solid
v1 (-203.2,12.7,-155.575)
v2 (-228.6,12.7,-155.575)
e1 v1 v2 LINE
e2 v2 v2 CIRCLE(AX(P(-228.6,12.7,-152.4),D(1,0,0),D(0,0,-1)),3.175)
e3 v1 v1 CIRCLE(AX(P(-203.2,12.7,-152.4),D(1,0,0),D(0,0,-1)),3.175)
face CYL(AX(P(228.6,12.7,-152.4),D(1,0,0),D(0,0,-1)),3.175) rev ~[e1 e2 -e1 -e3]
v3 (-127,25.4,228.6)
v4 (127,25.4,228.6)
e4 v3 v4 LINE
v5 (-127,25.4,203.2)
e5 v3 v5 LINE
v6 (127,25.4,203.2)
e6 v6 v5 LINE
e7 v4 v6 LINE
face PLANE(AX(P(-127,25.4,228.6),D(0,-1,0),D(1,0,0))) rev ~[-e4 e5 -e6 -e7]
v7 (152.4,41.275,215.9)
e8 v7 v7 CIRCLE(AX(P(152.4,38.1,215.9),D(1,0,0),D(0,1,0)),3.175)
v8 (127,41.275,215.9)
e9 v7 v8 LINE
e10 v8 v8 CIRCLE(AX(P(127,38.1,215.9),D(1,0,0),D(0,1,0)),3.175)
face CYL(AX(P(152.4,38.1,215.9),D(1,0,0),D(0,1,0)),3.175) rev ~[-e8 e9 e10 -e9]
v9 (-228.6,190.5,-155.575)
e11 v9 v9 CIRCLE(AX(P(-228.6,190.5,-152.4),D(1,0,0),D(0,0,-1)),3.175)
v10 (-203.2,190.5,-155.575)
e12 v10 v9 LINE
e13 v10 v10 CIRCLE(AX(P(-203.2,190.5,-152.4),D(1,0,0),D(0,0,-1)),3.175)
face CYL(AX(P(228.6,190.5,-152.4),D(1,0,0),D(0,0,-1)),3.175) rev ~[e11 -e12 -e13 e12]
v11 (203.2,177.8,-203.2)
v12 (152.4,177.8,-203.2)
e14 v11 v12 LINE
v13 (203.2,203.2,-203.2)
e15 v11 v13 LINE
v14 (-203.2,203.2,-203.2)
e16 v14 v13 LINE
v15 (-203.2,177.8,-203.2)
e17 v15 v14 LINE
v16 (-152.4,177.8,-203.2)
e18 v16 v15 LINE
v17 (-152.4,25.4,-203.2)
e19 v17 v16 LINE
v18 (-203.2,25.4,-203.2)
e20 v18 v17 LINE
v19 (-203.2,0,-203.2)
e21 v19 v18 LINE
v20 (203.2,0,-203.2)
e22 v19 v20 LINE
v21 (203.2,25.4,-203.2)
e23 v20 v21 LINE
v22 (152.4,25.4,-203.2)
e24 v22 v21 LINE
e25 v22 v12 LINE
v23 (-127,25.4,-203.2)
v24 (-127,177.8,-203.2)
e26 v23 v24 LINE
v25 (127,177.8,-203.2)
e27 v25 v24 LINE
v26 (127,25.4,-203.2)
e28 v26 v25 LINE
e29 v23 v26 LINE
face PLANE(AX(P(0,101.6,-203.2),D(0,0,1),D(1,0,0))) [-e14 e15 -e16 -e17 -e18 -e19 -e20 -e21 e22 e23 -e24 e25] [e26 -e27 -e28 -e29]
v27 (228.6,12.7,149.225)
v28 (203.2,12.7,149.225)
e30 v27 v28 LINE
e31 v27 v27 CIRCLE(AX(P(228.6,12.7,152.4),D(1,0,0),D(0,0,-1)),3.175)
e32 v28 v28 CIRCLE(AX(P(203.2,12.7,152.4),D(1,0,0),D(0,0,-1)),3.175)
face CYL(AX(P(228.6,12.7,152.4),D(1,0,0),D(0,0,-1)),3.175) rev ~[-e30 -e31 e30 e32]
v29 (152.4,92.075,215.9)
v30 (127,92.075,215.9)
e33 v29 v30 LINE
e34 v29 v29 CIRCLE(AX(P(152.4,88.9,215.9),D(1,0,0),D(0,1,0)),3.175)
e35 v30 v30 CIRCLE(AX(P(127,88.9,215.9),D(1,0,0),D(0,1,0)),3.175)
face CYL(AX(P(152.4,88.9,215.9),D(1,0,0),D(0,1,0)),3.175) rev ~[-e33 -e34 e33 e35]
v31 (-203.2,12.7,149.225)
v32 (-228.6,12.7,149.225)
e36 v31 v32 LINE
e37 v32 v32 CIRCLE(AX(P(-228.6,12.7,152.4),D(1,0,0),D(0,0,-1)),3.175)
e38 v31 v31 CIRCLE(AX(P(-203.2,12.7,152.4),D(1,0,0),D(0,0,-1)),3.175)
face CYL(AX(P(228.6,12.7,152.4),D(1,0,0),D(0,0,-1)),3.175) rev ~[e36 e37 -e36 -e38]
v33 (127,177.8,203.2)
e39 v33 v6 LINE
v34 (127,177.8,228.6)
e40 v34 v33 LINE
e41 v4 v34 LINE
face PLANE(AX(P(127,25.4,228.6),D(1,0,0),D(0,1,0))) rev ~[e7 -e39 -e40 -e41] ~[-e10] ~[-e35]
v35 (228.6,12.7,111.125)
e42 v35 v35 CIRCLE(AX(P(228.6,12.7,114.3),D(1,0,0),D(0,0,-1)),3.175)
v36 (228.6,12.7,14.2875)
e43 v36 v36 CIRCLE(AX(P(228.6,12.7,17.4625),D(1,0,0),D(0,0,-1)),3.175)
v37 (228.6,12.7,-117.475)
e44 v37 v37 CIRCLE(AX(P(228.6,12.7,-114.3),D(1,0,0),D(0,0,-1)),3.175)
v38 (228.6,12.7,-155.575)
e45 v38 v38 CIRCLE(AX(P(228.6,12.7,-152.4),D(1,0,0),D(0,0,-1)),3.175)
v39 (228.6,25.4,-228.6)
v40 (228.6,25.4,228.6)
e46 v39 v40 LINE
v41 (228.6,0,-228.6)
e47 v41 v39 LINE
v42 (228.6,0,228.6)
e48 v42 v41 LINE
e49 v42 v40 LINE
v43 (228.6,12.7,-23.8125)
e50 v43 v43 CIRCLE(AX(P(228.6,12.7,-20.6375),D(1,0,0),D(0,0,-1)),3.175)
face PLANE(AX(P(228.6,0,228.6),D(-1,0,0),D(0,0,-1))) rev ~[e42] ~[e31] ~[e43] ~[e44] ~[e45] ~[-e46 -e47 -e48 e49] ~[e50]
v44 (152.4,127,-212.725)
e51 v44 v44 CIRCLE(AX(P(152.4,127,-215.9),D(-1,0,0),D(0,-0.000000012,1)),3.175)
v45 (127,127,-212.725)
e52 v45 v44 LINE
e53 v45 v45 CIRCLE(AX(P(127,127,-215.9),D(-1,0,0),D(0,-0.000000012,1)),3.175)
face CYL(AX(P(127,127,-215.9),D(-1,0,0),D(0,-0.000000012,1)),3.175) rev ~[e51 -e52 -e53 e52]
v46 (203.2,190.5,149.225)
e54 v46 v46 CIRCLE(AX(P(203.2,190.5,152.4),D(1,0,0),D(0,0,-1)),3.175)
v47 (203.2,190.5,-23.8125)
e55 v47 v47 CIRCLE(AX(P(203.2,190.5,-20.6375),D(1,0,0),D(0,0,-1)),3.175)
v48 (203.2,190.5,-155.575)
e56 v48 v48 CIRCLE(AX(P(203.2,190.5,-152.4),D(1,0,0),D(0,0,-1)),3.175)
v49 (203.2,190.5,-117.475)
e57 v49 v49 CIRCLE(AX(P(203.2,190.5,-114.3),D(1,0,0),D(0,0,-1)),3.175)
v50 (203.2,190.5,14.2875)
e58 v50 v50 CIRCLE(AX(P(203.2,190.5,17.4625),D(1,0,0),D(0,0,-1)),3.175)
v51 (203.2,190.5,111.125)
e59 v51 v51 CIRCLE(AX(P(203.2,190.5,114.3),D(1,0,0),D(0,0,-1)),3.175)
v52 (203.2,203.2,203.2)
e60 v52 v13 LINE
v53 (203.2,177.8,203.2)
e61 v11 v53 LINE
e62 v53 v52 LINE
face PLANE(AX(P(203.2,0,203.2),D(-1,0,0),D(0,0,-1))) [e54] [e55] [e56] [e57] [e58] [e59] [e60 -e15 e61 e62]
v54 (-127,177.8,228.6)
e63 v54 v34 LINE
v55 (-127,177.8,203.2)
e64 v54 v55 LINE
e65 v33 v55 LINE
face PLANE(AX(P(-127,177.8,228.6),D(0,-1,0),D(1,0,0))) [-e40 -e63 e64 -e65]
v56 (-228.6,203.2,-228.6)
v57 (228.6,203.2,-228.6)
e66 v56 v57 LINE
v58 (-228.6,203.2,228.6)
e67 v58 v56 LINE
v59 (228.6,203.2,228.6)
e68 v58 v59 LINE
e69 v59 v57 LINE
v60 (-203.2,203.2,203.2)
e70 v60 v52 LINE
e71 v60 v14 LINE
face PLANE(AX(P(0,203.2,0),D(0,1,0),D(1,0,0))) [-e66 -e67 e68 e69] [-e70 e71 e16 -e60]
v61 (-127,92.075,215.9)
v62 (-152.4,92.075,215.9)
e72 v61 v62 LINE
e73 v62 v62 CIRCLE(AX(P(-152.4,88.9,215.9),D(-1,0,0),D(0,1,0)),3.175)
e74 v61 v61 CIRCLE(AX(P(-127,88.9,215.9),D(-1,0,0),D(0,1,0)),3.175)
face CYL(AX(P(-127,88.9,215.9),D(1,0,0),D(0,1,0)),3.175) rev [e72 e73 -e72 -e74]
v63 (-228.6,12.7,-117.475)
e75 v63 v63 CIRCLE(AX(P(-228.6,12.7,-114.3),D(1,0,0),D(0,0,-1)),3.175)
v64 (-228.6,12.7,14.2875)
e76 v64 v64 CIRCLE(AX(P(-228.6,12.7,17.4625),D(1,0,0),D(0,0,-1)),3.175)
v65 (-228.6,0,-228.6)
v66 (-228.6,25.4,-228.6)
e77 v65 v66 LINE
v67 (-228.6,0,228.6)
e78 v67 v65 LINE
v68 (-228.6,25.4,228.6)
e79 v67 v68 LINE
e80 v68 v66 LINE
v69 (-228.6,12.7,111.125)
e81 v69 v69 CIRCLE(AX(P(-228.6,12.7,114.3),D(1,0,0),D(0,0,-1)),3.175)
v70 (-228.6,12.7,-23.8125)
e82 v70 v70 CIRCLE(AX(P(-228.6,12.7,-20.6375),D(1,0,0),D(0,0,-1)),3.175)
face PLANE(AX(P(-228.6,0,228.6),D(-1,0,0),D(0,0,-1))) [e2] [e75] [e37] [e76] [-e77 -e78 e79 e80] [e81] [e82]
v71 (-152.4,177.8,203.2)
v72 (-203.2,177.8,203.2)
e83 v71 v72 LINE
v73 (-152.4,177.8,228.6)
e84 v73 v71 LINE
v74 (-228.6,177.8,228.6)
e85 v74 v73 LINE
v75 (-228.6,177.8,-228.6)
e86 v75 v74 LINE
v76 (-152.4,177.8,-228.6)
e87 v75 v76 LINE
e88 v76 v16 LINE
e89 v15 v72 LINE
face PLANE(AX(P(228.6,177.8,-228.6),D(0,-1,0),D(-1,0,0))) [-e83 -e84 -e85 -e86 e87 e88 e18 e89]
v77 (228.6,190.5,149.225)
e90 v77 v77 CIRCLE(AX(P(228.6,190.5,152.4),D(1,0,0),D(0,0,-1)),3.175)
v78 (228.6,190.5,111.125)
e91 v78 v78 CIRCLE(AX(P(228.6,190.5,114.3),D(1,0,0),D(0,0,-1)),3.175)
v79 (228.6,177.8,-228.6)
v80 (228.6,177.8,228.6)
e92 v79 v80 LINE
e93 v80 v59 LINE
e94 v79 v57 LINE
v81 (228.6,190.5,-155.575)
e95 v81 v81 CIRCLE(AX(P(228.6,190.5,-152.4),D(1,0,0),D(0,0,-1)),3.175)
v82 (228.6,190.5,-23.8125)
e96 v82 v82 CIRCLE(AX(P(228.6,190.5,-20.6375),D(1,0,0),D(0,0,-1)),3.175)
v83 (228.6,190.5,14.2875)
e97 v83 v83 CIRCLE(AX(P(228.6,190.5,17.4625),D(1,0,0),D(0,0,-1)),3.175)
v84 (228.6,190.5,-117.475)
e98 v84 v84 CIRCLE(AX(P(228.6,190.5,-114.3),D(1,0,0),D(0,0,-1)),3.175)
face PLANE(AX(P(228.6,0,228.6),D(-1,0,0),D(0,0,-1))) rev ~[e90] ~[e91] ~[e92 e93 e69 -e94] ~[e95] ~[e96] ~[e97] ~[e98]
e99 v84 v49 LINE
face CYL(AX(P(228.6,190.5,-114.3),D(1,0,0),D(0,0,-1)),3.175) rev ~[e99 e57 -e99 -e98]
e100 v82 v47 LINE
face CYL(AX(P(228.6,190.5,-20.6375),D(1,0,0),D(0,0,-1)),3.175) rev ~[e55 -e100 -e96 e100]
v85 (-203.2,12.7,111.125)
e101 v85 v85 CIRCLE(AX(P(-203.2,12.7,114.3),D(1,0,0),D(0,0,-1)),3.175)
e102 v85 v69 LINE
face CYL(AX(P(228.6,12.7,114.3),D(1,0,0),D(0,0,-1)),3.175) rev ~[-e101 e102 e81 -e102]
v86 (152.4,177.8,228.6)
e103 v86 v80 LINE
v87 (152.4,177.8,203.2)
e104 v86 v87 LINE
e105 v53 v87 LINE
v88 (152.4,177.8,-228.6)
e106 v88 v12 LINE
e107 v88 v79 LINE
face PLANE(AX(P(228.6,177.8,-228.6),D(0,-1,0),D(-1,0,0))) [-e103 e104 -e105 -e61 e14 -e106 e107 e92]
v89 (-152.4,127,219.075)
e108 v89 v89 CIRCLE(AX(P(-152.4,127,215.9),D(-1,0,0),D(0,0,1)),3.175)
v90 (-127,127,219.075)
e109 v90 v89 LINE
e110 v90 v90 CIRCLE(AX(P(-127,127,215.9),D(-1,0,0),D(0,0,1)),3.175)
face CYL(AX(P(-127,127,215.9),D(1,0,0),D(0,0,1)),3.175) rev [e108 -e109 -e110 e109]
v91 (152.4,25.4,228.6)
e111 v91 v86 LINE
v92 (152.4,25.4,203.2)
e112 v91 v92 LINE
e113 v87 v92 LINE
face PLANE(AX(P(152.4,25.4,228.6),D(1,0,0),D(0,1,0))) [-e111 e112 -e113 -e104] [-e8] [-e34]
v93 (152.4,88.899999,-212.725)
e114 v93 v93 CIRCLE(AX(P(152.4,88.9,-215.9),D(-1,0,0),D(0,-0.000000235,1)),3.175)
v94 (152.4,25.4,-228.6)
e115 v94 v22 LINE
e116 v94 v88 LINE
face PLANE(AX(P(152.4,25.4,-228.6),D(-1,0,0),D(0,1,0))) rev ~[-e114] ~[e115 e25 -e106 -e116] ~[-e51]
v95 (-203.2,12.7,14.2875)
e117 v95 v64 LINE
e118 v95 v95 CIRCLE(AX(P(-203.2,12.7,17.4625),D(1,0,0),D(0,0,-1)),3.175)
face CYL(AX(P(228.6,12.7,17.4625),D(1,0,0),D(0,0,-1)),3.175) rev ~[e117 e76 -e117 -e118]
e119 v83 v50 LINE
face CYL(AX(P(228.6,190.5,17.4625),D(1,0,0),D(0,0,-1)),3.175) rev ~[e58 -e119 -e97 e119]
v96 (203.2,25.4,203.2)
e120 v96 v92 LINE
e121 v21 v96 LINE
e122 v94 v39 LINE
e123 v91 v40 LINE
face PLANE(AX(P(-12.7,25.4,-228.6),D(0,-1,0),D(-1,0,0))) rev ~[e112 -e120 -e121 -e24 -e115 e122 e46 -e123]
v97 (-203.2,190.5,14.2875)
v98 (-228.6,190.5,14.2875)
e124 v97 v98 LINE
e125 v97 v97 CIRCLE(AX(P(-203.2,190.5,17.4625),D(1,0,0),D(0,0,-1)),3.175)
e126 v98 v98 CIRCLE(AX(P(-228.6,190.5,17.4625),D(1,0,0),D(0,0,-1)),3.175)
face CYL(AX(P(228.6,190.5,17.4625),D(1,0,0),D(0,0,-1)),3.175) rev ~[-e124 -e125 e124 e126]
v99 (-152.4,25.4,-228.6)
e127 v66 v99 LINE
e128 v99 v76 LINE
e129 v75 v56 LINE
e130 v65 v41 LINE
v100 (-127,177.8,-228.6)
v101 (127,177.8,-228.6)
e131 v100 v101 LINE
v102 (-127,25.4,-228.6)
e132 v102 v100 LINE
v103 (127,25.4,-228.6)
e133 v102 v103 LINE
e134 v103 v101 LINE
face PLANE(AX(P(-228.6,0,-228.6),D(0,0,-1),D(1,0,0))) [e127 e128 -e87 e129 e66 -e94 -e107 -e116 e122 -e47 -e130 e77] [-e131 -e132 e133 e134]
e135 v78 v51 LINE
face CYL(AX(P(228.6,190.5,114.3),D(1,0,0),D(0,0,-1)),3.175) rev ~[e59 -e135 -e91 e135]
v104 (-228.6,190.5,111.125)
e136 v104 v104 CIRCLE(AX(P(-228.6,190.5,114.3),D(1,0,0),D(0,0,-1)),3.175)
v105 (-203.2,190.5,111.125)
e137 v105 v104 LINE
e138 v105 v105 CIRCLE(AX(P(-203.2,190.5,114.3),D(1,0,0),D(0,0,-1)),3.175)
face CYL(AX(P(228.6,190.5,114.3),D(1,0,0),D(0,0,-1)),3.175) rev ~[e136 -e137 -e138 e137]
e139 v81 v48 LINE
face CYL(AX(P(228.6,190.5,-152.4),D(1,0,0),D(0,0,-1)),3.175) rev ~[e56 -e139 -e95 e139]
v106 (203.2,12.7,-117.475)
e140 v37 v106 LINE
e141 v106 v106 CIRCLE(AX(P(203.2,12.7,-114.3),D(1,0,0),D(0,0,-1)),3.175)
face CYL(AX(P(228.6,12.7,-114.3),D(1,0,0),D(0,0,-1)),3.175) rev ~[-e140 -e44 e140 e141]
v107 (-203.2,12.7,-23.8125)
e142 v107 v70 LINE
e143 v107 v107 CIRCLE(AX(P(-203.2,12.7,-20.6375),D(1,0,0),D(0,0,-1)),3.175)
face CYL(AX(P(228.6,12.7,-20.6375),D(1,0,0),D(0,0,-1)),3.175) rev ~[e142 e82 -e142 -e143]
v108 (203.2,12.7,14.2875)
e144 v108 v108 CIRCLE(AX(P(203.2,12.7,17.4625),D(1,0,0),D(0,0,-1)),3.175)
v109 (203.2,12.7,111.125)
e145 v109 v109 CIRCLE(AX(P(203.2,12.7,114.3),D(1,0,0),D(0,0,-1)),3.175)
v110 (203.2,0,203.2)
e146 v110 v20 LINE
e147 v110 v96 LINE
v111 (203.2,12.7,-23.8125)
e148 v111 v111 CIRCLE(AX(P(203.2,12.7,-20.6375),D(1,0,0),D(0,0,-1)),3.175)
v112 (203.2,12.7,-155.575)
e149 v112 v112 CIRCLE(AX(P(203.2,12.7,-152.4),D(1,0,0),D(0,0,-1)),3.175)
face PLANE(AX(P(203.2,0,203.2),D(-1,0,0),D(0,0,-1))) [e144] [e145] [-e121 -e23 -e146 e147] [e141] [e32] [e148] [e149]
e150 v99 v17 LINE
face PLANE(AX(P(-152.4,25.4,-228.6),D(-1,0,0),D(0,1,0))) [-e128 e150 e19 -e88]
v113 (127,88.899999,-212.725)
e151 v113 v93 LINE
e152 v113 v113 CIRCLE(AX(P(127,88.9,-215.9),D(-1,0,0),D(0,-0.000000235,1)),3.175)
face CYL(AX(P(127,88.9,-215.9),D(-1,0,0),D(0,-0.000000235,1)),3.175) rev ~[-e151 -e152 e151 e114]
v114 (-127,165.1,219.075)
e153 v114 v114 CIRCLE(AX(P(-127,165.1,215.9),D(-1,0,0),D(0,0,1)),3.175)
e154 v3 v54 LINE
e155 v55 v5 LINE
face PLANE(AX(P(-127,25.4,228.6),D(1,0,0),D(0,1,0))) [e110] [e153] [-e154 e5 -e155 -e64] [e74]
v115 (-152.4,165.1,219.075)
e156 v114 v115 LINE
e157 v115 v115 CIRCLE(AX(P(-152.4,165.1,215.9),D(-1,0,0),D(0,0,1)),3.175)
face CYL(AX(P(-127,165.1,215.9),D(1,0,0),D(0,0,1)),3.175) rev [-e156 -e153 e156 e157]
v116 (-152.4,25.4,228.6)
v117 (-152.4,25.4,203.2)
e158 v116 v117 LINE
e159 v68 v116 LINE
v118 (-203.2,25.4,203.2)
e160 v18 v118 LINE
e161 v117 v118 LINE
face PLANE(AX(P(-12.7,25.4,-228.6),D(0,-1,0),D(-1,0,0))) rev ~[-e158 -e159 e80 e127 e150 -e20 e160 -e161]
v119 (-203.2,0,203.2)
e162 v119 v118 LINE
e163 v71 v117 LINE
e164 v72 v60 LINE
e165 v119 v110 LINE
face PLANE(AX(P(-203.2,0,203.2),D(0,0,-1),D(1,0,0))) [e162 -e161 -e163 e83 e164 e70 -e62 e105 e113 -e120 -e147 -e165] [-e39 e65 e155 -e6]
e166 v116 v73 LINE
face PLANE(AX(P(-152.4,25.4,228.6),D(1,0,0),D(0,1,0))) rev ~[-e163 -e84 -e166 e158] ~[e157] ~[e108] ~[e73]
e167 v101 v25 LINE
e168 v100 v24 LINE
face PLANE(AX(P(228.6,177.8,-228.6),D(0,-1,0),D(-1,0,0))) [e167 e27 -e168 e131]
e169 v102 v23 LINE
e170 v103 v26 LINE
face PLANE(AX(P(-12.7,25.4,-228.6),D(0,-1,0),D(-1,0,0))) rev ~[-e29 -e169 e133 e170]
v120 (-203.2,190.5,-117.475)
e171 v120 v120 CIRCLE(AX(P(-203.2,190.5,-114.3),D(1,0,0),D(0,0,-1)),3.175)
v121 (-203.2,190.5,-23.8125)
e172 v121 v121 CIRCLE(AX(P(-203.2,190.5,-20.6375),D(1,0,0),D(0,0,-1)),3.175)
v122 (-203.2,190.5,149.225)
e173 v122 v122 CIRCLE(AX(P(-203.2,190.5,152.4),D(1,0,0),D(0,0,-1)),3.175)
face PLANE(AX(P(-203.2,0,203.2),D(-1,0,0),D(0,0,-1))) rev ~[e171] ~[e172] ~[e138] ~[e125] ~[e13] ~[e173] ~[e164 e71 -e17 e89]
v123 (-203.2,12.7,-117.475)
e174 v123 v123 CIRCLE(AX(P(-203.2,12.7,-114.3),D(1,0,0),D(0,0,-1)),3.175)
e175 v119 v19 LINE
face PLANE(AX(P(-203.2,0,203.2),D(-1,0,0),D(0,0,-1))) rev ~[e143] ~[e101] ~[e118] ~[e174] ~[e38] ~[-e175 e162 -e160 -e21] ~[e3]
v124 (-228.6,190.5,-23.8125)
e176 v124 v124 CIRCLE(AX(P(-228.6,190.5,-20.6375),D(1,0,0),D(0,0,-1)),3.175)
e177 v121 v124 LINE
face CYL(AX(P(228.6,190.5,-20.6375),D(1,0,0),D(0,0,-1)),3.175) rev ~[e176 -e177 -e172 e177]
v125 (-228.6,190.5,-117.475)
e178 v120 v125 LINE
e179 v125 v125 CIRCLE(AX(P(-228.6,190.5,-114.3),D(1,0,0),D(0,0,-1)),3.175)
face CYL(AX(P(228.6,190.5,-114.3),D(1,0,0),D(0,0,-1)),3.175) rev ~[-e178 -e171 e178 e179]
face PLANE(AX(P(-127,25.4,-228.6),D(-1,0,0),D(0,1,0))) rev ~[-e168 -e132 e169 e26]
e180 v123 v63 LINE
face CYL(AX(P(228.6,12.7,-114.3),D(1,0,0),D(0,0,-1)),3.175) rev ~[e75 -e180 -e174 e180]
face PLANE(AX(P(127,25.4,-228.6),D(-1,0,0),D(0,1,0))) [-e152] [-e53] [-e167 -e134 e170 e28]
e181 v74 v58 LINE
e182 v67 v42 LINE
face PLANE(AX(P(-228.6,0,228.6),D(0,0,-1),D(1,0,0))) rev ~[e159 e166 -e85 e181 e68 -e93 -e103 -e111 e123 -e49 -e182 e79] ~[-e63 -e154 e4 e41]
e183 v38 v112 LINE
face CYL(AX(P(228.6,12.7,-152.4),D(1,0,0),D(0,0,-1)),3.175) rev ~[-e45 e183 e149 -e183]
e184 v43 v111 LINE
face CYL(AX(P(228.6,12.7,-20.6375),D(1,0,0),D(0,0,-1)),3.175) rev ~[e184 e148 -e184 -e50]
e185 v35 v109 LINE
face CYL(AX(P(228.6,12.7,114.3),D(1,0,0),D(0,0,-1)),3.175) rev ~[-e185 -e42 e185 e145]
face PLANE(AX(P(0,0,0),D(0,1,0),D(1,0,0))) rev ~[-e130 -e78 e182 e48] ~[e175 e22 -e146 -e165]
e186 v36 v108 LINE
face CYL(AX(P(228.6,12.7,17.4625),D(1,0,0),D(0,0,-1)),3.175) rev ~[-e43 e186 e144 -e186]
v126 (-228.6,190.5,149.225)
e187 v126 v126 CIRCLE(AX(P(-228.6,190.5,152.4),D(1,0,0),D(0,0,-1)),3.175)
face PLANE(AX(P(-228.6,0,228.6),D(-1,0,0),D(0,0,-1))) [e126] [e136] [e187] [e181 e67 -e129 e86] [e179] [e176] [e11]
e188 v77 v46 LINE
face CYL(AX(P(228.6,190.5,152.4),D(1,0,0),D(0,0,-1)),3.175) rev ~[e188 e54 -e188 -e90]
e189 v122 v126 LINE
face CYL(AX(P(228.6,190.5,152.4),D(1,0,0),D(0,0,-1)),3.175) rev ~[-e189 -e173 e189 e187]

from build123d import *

# Parameters (mm, degrees)
SKETCH1_W            = 457.2
SKETCH1_H            = 457.2
SKETCH1_W_2          = 406.4
SKETCH1_H_2          = 406.4
BOSS_EXTRUDE1_DEPTH  = 203.2
CUT_EXTRUDE3_REACH   = 552.073
SKETCH2_W            = 254
SKETCH2_H            = 152.4
SKETCH2_W_2          = 76.2
SKETCH4_W            = 215.9
SKETCH4_H            = 152.4
CUT_EXTRUDE4_DEPTH   = 25.4
SKETCH6_R            = 3.175
CUT_EXTRUDE5_DEPTH   = 25.4
CUT_EXTRUDE6_START   = -25.4
SKETCH7_R            = 3.175
CUT_EXTRUDE6_DEPTH   = 25.4
CUT_EXTRUDE7_REACH   = 552.073
SKETCH8_R            = 3.175
SKETCH10_R           = 3.175
CUT_EXTRUDE8_DEPTH   = 551.072758824
LPATTERN1_COUNT      = 2
LPATTERN1_PITCH      = 38.1
LPATTERN1_COUNT_DIR2 = 2
LPATTERN1_PITCH_DIR2 = 177.8
SKETCH12_W           = 25.4
SKETCH12_H           = 152.4
CUT_EXTRUDE9_DEPTH   = 25.4
SKETCH13_W           = 25.4
SKETCH13_H           = 152.4
BOSS_EXTRUDE2_DEPTH  = 25.4
SKETCH14_R           = 3.175
CUT_EXTRUDE11_DEPTH  = 25.4


with BuildPart() as part:
    # Sketch1 → Boss-Extrude1 (new body)
    with BuildSketch(Plane(origin=(0, 0, 0), x_dir=(1, 0, 0), z_dir=(0, 1, 0))):
        Rectangle(SKETCH1_W, SKETCH1_H)
        Rectangle(SKETCH1_W_2, SKETCH1_H_2, mode=Mode.SUBTRACT)
    extrude(amount=BOSS_EXTRUDE1_DEPTH)

    # Cut-Extrude3: up to this face of the body (flat: up to its plane)
    cut_extrude3_end = Plane(part.part.faces().sort_by_distance((0, 101.6, -203.2))[0])
    # Sketch2 → Cut-Extrude3 (cut, up to the picked face)
    with BuildSketch(Plane.XY.offset(228.6), mode=Mode.PRIVATE) as cut_extrude3_sk1:
        with Locations((0, 101.6)):
            Rectangle(SKETCH2_W, SKETCH2_H)
    cut_extrude3_tool1 = split(extrude(cut_extrude3_sk1.sketch, amount=-CUT_EXTRUDE3_REACH, mode=Mode.PRIVATE), bisect_by=cut_extrude3_end, keep=Keep.BOTH, mode=Mode.PRIVATE)
    # Sketch2 → Cut-Extrude3 (cut, up to the picked face)
    with BuildSketch(Plane.XY.offset(228.6), mode=Mode.PRIVATE) as cut_extrude3_sk2:
        with Locations((190.5, 101.6)):
            Rectangle(SKETCH2_W_2, SKETCH2_H)
    cut_extrude3_tool2 = split(extrude(cut_extrude3_sk2.sketch, amount=-CUT_EXTRUDE3_REACH, mode=Mode.PRIVATE), bisect_by=cut_extrude3_end, keep=Keep.BOTH, mode=Mode.PRIVATE)
    # Sketch2 → Cut-Extrude3 (cut, up to the picked face)
    with BuildSketch(Plane.XY.offset(228.6), mode=Mode.PRIVATE) as cut_extrude3_sk3:
        with Locations((-190.5, 101.6)):
            Rectangle(SKETCH2_W_2, SKETCH2_H)
    cut_extrude3_tool3 = split(extrude(cut_extrude3_sk3.sketch, amount=-CUT_EXTRUDE3_REACH, mode=Mode.PRIVATE), bisect_by=cut_extrude3_end, keep=Keep.BOTH, mode=Mode.PRIVATE)
    add(cut_extrude3_tool1.solids().sort_by(Axis((0, 101.6, 228.6), (0, 0, -1)))[0], mode=Mode.SUBTRACT)
    add(cut_extrude3_tool2.solids().sort_by(Axis((190.5, 101.6, 228.6), (0, 0, -1)))[0], mode=Mode.SUBTRACT)
    add(cut_extrude3_tool3.solids().sort_by(Axis((-190.5, 101.6, 228.6), (0, 0, -1)))[0], mode=Mode.SUBTRACT)

    # Sketch4 → Cut-Extrude4 (cut)
    with BuildSketch(Plane(origin=(0, 0, -228.6), x_dir=(-1, 0, 0), z_dir=(0, 0, -1))):
        with Locations((120.65, 101.6)):
            Rectangle(SKETCH4_W, SKETCH4_H)
        with Locations((-120.65, 101.6)):
            Rectangle(SKETCH4_W, SKETCH4_H)
    extrude(amount=-CUT_EXTRUDE4_DEPTH, mode=Mode.SUBTRACT)

    # Sketch6 → Cut-Extrude5 (cut)
    with BuildSketch(Plane(origin=(152.4, 0, 0), x_dir=(0, 0, -1), z_dir=(1, 0, 0))):
        with Locations(Location((-215.9, 38.1, 0), (0, 0, 90))):
            Circle(SKETCH6_R)
        with Locations(Location((-215.9, 88.9, 0), (0, 0, 90))):
            Circle(SKETCH6_R)
    extrude(amount=-CUT_EXTRUDE5_DEPTH, mode=Mode.SUBTRACT)

    # Sketch7 → Cut-Extrude6 (cut)
    with BuildSketch(Plane.ZY.offset(152.4).offset(CUT_EXTRUDE6_START)):
        with Locations((215.9, 165.1)):
            Circle(SKETCH7_R)
        with Locations((215.9, 127)):
            Circle(SKETCH7_R)
        with Locations(Location((215.9, 88.9, 0), (0, 0, 90))):
            Circle(SKETCH7_R)
    extrude(amount=CUT_EXTRUDE6_DEPTH, mode=Mode.SUBTRACT)

    # Cut-Extrude7: up to this face of the body (flat: up to its plane)
    cut_extrude7_end = Plane(part.part.faces().sort_by_distance((-228.6, 190.5, 0))[0])
    # Sketch8 → Cut-Extrude7 (cut, up to the picked face)
    with BuildSketch(Plane(origin=(228.6, 0, 0), x_dir=(0, 0, -1), z_dir=(1, 0, 0)), mode=Mode.PRIVATE) as cut_extrude7_sk1:
        with Locations((152.4, 190.5)):
            Circle(SKETCH8_R)
    cut_extrude7_tool1 = split(extrude(cut_extrude7_sk1.sketch, amount=-CUT_EXTRUDE7_REACH, mode=Mode.PRIVATE), bisect_by=cut_extrude7_end, keep=Keep.BOTH, mode=Mode.PRIVATE)
    # Sketch8 → Cut-Extrude7 (cut, up to the picked face)
    with BuildSketch(Plane(origin=(228.6, 0, 0), x_dir=(0, 0, -1), z_dir=(1, 0, 0)), mode=Mode.PRIVATE) as cut_extrude7_sk2:
        with Locations((114.3, 190.5)):
            Circle(SKETCH8_R)
    cut_extrude7_tool2 = split(extrude(cut_extrude7_sk2.sketch, amount=-CUT_EXTRUDE7_REACH, mode=Mode.PRIVATE), bisect_by=cut_extrude7_end, keep=Keep.BOTH, mode=Mode.PRIVATE)
    # Sketch8 → Cut-Extrude7 (cut, up to the picked face)
    with BuildSketch(Plane(origin=(228.6, 0, 0), x_dir=(0, 0, -1), z_dir=(1, 0, 0)), mode=Mode.PRIVATE) as cut_extrude7_sk3:
        with Locations((-152.4, 190.5)):
            Circle(SKETCH8_R)
    cut_extrude7_tool3 = split(extrude(cut_extrude7_sk3.sketch, amount=-CUT_EXTRUDE7_REACH, mode=Mode.PRIVATE), bisect_by=cut_extrude7_end, keep=Keep.BOTH, mode=Mode.PRIVATE)
    # Sketch8 → Cut-Extrude7 (cut, up to the picked face)
    with BuildSketch(Plane(origin=(228.6, 0, 0), x_dir=(0, 0, -1), z_dir=(1, 0, 0)), mode=Mode.PRIVATE) as cut_extrude7_sk4:
        with Locations((-114.3, 190.5)):
            Circle(SKETCH8_R)
    cut_extrude7_tool4 = split(extrude(cut_extrude7_sk4.sketch, amount=-CUT_EXTRUDE7_REACH, mode=Mode.PRIVATE), bisect_by=cut_extrude7_end, keep=Keep.BOTH, mode=Mode.PRIVATE)
    # Sketch8 → Cut-Extrude7 (cut, up to the picked face)
    with BuildSketch(Plane(origin=(228.6, 0, 0), x_dir=(0, 0, -1), z_dir=(1, 0, 0)), mode=Mode.PRIVATE) as cut_extrude7_sk5:
        with Locations((152.4, 12.7)):
            Circle(SKETCH8_R)
    cut_extrude7_tool5 = split(extrude(cut_extrude7_sk5.sketch, amount=-CUT_EXTRUDE7_REACH, mode=Mode.PRIVATE), bisect_by=cut_extrude7_end, keep=Keep.BOTH, mode=Mode.PRIVATE)
    # Sketch8 → Cut-Extrude7 (cut, up to the picked face)
    with BuildSketch(Plane(origin=(228.6, 0, 0), x_dir=(0, 0, -1), z_dir=(1, 0, 0)), mode=Mode.PRIVATE) as cut_extrude7_sk6:
        with Locations((114.3, 12.7)):
            Circle(SKETCH8_R)
    cut_extrude7_tool6 = split(extrude(cut_extrude7_sk6.sketch, amount=-CUT_EXTRUDE7_REACH, mode=Mode.PRIVATE), bisect_by=cut_extrude7_end, keep=Keep.BOTH, mode=Mode.PRIVATE)
    # Sketch8 → Cut-Extrude7 (cut, up to the picked face)
    with BuildSketch(Plane(origin=(228.6, 0, 0), x_dir=(0, 0, -1), z_dir=(1, 0, 0)), mode=Mode.PRIVATE) as cut_extrude7_sk7:
        with Locations((-114.3, 12.7)):
            Circle(SKETCH8_R)
    cut_extrude7_tool7 = split(extrude(cut_extrude7_sk7.sketch, amount=-CUT_EXTRUDE7_REACH, mode=Mode.PRIVATE), bisect_by=cut_extrude7_end, keep=Keep.BOTH, mode=Mode.PRIVATE)
    # Sketch8 → Cut-Extrude7 (cut, up to the picked face)
    with BuildSketch(Plane(origin=(228.6, 0, 0), x_dir=(0, 0, -1), z_dir=(1, 0, 0)), mode=Mode.PRIVATE) as cut_extrude7_sk8:
        with Locations((-152.4, 12.7)):
            Circle(SKETCH8_R)
    cut_extrude7_tool8 = split(extrude(cut_extrude7_sk8.sketch, amount=-CUT_EXTRUDE7_REACH, mode=Mode.PRIVATE), bisect_by=cut_extrude7_end, keep=Keep.BOTH, mode=Mode.PRIVATE)
    add(cut_extrude7_tool1.solids().sort_by(Axis((228.6, 190.5, -152.4), (-1, 0, 0)))[0], mode=Mode.SUBTRACT)
    add(cut_extrude7_tool2.solids().sort_by(Axis((228.6, 190.5, -114.3), (-1, 0, 0)))[0], mode=Mode.SUBTRACT)
    add(cut_extrude7_tool3.solids().sort_by(Axis((228.6, 190.5, 152.4), (-1, 0, 0)))[0], mode=Mode.SUBTRACT)
    add(cut_extrude7_tool4.solids().sort_by(Axis((228.6, 190.5, 114.3), (-1, 0, 0)))[0], mode=Mode.SUBTRACT)
    add(cut_extrude7_tool5.solids().sort_by(Axis((228.6, 12.7, -152.4), (-1, 0, 0)))[0], mode=Mode.SUBTRACT)
    add(cut_extrude7_tool6.solids().sort_by(Axis((228.6, 12.7, -114.3), (-1, 0, 0)))[0], mode=Mode.SUBTRACT)
    add(cut_extrude7_tool7.solids().sort_by(Axis((228.6, 12.7, 114.3), (-1, 0, 0)))[0], mode=Mode.SUBTRACT)
    add(cut_extrude7_tool8.solids().sort_by(Axis((228.6, 12.7, 152.4), (-1, 0, 0)))[0], mode=Mode.SUBTRACT)

    # Sketch10 → Cut-Extrude8 (cut, through all)
    with BuildSketch(Plane(origin=(228.6, 0, 0), x_dir=(0, 0, -1), z_dir=(1, 0, 0))):
        with Locations((-17.4625, 190.5)):
            Circle(SKETCH10_R)
    cut_extrude8 = extrude(amount=-CUT_EXTRUDE8_DEPTH, mode=Mode.SUBTRACT)

    # LPattern1: Cut-Extrude8 2 × 2
    with Locations(*[(0, -j * LPATTERN1_PITCH_DIR2, -i * LPATTERN1_PITCH) for i in range(LPATTERN1_COUNT) for j in range(LPATTERN1_COUNT_DIR2) if (i, j) != (0, 0)]):
        add(cut_extrude8, mode=Mode.SUBTRACT)

    # Sketch12 → Cut-Extrude9 (cut)
    with BuildSketch(Plane(origin=(0, 0, -228.6), x_dir=(-1, 0, 0), z_dir=(0, 0, -1))):
        with Locations((0, 101.6)):
            Rectangle(SKETCH12_W, SKETCH12_H)
    extrude(amount=-CUT_EXTRUDE9_DEPTH, mode=Mode.SUBTRACT)

    # Sketch13 → Boss-Extrude2 (add)
    with BuildSketch(Plane(origin=(0, 0, -228.6), x_dir=(-1, 0, 0), z_dir=(0, 0, -1))):
        with Locations((-139.7, 101.6)):
            Rectangle(SKETCH13_W, SKETCH13_H)
        with Locations((139.7, 101.6)):
            Rectangle(SKETCH13_W, SKETCH13_H)
    extrude(amount=-BOSS_EXTRUDE2_DEPTH)

    # Sketch14 → Cut-Extrude11 (cut)
    with BuildSketch(Plane.ZY.offset(-127)):
        with Locations(Location((-215.9, 127, 0), (0, 0, 359.999999316))):
            Circle(SKETCH14_R)
        with Locations(Location((-215.9, 88.9, 0), (0, 0, 359.999986507))):
            Circle(SKETCH14_R)
    extrude(amount=-CUT_EXTRUDE11_DEPTH, mode=Mode.SUBTRACT)


solid = part.part
